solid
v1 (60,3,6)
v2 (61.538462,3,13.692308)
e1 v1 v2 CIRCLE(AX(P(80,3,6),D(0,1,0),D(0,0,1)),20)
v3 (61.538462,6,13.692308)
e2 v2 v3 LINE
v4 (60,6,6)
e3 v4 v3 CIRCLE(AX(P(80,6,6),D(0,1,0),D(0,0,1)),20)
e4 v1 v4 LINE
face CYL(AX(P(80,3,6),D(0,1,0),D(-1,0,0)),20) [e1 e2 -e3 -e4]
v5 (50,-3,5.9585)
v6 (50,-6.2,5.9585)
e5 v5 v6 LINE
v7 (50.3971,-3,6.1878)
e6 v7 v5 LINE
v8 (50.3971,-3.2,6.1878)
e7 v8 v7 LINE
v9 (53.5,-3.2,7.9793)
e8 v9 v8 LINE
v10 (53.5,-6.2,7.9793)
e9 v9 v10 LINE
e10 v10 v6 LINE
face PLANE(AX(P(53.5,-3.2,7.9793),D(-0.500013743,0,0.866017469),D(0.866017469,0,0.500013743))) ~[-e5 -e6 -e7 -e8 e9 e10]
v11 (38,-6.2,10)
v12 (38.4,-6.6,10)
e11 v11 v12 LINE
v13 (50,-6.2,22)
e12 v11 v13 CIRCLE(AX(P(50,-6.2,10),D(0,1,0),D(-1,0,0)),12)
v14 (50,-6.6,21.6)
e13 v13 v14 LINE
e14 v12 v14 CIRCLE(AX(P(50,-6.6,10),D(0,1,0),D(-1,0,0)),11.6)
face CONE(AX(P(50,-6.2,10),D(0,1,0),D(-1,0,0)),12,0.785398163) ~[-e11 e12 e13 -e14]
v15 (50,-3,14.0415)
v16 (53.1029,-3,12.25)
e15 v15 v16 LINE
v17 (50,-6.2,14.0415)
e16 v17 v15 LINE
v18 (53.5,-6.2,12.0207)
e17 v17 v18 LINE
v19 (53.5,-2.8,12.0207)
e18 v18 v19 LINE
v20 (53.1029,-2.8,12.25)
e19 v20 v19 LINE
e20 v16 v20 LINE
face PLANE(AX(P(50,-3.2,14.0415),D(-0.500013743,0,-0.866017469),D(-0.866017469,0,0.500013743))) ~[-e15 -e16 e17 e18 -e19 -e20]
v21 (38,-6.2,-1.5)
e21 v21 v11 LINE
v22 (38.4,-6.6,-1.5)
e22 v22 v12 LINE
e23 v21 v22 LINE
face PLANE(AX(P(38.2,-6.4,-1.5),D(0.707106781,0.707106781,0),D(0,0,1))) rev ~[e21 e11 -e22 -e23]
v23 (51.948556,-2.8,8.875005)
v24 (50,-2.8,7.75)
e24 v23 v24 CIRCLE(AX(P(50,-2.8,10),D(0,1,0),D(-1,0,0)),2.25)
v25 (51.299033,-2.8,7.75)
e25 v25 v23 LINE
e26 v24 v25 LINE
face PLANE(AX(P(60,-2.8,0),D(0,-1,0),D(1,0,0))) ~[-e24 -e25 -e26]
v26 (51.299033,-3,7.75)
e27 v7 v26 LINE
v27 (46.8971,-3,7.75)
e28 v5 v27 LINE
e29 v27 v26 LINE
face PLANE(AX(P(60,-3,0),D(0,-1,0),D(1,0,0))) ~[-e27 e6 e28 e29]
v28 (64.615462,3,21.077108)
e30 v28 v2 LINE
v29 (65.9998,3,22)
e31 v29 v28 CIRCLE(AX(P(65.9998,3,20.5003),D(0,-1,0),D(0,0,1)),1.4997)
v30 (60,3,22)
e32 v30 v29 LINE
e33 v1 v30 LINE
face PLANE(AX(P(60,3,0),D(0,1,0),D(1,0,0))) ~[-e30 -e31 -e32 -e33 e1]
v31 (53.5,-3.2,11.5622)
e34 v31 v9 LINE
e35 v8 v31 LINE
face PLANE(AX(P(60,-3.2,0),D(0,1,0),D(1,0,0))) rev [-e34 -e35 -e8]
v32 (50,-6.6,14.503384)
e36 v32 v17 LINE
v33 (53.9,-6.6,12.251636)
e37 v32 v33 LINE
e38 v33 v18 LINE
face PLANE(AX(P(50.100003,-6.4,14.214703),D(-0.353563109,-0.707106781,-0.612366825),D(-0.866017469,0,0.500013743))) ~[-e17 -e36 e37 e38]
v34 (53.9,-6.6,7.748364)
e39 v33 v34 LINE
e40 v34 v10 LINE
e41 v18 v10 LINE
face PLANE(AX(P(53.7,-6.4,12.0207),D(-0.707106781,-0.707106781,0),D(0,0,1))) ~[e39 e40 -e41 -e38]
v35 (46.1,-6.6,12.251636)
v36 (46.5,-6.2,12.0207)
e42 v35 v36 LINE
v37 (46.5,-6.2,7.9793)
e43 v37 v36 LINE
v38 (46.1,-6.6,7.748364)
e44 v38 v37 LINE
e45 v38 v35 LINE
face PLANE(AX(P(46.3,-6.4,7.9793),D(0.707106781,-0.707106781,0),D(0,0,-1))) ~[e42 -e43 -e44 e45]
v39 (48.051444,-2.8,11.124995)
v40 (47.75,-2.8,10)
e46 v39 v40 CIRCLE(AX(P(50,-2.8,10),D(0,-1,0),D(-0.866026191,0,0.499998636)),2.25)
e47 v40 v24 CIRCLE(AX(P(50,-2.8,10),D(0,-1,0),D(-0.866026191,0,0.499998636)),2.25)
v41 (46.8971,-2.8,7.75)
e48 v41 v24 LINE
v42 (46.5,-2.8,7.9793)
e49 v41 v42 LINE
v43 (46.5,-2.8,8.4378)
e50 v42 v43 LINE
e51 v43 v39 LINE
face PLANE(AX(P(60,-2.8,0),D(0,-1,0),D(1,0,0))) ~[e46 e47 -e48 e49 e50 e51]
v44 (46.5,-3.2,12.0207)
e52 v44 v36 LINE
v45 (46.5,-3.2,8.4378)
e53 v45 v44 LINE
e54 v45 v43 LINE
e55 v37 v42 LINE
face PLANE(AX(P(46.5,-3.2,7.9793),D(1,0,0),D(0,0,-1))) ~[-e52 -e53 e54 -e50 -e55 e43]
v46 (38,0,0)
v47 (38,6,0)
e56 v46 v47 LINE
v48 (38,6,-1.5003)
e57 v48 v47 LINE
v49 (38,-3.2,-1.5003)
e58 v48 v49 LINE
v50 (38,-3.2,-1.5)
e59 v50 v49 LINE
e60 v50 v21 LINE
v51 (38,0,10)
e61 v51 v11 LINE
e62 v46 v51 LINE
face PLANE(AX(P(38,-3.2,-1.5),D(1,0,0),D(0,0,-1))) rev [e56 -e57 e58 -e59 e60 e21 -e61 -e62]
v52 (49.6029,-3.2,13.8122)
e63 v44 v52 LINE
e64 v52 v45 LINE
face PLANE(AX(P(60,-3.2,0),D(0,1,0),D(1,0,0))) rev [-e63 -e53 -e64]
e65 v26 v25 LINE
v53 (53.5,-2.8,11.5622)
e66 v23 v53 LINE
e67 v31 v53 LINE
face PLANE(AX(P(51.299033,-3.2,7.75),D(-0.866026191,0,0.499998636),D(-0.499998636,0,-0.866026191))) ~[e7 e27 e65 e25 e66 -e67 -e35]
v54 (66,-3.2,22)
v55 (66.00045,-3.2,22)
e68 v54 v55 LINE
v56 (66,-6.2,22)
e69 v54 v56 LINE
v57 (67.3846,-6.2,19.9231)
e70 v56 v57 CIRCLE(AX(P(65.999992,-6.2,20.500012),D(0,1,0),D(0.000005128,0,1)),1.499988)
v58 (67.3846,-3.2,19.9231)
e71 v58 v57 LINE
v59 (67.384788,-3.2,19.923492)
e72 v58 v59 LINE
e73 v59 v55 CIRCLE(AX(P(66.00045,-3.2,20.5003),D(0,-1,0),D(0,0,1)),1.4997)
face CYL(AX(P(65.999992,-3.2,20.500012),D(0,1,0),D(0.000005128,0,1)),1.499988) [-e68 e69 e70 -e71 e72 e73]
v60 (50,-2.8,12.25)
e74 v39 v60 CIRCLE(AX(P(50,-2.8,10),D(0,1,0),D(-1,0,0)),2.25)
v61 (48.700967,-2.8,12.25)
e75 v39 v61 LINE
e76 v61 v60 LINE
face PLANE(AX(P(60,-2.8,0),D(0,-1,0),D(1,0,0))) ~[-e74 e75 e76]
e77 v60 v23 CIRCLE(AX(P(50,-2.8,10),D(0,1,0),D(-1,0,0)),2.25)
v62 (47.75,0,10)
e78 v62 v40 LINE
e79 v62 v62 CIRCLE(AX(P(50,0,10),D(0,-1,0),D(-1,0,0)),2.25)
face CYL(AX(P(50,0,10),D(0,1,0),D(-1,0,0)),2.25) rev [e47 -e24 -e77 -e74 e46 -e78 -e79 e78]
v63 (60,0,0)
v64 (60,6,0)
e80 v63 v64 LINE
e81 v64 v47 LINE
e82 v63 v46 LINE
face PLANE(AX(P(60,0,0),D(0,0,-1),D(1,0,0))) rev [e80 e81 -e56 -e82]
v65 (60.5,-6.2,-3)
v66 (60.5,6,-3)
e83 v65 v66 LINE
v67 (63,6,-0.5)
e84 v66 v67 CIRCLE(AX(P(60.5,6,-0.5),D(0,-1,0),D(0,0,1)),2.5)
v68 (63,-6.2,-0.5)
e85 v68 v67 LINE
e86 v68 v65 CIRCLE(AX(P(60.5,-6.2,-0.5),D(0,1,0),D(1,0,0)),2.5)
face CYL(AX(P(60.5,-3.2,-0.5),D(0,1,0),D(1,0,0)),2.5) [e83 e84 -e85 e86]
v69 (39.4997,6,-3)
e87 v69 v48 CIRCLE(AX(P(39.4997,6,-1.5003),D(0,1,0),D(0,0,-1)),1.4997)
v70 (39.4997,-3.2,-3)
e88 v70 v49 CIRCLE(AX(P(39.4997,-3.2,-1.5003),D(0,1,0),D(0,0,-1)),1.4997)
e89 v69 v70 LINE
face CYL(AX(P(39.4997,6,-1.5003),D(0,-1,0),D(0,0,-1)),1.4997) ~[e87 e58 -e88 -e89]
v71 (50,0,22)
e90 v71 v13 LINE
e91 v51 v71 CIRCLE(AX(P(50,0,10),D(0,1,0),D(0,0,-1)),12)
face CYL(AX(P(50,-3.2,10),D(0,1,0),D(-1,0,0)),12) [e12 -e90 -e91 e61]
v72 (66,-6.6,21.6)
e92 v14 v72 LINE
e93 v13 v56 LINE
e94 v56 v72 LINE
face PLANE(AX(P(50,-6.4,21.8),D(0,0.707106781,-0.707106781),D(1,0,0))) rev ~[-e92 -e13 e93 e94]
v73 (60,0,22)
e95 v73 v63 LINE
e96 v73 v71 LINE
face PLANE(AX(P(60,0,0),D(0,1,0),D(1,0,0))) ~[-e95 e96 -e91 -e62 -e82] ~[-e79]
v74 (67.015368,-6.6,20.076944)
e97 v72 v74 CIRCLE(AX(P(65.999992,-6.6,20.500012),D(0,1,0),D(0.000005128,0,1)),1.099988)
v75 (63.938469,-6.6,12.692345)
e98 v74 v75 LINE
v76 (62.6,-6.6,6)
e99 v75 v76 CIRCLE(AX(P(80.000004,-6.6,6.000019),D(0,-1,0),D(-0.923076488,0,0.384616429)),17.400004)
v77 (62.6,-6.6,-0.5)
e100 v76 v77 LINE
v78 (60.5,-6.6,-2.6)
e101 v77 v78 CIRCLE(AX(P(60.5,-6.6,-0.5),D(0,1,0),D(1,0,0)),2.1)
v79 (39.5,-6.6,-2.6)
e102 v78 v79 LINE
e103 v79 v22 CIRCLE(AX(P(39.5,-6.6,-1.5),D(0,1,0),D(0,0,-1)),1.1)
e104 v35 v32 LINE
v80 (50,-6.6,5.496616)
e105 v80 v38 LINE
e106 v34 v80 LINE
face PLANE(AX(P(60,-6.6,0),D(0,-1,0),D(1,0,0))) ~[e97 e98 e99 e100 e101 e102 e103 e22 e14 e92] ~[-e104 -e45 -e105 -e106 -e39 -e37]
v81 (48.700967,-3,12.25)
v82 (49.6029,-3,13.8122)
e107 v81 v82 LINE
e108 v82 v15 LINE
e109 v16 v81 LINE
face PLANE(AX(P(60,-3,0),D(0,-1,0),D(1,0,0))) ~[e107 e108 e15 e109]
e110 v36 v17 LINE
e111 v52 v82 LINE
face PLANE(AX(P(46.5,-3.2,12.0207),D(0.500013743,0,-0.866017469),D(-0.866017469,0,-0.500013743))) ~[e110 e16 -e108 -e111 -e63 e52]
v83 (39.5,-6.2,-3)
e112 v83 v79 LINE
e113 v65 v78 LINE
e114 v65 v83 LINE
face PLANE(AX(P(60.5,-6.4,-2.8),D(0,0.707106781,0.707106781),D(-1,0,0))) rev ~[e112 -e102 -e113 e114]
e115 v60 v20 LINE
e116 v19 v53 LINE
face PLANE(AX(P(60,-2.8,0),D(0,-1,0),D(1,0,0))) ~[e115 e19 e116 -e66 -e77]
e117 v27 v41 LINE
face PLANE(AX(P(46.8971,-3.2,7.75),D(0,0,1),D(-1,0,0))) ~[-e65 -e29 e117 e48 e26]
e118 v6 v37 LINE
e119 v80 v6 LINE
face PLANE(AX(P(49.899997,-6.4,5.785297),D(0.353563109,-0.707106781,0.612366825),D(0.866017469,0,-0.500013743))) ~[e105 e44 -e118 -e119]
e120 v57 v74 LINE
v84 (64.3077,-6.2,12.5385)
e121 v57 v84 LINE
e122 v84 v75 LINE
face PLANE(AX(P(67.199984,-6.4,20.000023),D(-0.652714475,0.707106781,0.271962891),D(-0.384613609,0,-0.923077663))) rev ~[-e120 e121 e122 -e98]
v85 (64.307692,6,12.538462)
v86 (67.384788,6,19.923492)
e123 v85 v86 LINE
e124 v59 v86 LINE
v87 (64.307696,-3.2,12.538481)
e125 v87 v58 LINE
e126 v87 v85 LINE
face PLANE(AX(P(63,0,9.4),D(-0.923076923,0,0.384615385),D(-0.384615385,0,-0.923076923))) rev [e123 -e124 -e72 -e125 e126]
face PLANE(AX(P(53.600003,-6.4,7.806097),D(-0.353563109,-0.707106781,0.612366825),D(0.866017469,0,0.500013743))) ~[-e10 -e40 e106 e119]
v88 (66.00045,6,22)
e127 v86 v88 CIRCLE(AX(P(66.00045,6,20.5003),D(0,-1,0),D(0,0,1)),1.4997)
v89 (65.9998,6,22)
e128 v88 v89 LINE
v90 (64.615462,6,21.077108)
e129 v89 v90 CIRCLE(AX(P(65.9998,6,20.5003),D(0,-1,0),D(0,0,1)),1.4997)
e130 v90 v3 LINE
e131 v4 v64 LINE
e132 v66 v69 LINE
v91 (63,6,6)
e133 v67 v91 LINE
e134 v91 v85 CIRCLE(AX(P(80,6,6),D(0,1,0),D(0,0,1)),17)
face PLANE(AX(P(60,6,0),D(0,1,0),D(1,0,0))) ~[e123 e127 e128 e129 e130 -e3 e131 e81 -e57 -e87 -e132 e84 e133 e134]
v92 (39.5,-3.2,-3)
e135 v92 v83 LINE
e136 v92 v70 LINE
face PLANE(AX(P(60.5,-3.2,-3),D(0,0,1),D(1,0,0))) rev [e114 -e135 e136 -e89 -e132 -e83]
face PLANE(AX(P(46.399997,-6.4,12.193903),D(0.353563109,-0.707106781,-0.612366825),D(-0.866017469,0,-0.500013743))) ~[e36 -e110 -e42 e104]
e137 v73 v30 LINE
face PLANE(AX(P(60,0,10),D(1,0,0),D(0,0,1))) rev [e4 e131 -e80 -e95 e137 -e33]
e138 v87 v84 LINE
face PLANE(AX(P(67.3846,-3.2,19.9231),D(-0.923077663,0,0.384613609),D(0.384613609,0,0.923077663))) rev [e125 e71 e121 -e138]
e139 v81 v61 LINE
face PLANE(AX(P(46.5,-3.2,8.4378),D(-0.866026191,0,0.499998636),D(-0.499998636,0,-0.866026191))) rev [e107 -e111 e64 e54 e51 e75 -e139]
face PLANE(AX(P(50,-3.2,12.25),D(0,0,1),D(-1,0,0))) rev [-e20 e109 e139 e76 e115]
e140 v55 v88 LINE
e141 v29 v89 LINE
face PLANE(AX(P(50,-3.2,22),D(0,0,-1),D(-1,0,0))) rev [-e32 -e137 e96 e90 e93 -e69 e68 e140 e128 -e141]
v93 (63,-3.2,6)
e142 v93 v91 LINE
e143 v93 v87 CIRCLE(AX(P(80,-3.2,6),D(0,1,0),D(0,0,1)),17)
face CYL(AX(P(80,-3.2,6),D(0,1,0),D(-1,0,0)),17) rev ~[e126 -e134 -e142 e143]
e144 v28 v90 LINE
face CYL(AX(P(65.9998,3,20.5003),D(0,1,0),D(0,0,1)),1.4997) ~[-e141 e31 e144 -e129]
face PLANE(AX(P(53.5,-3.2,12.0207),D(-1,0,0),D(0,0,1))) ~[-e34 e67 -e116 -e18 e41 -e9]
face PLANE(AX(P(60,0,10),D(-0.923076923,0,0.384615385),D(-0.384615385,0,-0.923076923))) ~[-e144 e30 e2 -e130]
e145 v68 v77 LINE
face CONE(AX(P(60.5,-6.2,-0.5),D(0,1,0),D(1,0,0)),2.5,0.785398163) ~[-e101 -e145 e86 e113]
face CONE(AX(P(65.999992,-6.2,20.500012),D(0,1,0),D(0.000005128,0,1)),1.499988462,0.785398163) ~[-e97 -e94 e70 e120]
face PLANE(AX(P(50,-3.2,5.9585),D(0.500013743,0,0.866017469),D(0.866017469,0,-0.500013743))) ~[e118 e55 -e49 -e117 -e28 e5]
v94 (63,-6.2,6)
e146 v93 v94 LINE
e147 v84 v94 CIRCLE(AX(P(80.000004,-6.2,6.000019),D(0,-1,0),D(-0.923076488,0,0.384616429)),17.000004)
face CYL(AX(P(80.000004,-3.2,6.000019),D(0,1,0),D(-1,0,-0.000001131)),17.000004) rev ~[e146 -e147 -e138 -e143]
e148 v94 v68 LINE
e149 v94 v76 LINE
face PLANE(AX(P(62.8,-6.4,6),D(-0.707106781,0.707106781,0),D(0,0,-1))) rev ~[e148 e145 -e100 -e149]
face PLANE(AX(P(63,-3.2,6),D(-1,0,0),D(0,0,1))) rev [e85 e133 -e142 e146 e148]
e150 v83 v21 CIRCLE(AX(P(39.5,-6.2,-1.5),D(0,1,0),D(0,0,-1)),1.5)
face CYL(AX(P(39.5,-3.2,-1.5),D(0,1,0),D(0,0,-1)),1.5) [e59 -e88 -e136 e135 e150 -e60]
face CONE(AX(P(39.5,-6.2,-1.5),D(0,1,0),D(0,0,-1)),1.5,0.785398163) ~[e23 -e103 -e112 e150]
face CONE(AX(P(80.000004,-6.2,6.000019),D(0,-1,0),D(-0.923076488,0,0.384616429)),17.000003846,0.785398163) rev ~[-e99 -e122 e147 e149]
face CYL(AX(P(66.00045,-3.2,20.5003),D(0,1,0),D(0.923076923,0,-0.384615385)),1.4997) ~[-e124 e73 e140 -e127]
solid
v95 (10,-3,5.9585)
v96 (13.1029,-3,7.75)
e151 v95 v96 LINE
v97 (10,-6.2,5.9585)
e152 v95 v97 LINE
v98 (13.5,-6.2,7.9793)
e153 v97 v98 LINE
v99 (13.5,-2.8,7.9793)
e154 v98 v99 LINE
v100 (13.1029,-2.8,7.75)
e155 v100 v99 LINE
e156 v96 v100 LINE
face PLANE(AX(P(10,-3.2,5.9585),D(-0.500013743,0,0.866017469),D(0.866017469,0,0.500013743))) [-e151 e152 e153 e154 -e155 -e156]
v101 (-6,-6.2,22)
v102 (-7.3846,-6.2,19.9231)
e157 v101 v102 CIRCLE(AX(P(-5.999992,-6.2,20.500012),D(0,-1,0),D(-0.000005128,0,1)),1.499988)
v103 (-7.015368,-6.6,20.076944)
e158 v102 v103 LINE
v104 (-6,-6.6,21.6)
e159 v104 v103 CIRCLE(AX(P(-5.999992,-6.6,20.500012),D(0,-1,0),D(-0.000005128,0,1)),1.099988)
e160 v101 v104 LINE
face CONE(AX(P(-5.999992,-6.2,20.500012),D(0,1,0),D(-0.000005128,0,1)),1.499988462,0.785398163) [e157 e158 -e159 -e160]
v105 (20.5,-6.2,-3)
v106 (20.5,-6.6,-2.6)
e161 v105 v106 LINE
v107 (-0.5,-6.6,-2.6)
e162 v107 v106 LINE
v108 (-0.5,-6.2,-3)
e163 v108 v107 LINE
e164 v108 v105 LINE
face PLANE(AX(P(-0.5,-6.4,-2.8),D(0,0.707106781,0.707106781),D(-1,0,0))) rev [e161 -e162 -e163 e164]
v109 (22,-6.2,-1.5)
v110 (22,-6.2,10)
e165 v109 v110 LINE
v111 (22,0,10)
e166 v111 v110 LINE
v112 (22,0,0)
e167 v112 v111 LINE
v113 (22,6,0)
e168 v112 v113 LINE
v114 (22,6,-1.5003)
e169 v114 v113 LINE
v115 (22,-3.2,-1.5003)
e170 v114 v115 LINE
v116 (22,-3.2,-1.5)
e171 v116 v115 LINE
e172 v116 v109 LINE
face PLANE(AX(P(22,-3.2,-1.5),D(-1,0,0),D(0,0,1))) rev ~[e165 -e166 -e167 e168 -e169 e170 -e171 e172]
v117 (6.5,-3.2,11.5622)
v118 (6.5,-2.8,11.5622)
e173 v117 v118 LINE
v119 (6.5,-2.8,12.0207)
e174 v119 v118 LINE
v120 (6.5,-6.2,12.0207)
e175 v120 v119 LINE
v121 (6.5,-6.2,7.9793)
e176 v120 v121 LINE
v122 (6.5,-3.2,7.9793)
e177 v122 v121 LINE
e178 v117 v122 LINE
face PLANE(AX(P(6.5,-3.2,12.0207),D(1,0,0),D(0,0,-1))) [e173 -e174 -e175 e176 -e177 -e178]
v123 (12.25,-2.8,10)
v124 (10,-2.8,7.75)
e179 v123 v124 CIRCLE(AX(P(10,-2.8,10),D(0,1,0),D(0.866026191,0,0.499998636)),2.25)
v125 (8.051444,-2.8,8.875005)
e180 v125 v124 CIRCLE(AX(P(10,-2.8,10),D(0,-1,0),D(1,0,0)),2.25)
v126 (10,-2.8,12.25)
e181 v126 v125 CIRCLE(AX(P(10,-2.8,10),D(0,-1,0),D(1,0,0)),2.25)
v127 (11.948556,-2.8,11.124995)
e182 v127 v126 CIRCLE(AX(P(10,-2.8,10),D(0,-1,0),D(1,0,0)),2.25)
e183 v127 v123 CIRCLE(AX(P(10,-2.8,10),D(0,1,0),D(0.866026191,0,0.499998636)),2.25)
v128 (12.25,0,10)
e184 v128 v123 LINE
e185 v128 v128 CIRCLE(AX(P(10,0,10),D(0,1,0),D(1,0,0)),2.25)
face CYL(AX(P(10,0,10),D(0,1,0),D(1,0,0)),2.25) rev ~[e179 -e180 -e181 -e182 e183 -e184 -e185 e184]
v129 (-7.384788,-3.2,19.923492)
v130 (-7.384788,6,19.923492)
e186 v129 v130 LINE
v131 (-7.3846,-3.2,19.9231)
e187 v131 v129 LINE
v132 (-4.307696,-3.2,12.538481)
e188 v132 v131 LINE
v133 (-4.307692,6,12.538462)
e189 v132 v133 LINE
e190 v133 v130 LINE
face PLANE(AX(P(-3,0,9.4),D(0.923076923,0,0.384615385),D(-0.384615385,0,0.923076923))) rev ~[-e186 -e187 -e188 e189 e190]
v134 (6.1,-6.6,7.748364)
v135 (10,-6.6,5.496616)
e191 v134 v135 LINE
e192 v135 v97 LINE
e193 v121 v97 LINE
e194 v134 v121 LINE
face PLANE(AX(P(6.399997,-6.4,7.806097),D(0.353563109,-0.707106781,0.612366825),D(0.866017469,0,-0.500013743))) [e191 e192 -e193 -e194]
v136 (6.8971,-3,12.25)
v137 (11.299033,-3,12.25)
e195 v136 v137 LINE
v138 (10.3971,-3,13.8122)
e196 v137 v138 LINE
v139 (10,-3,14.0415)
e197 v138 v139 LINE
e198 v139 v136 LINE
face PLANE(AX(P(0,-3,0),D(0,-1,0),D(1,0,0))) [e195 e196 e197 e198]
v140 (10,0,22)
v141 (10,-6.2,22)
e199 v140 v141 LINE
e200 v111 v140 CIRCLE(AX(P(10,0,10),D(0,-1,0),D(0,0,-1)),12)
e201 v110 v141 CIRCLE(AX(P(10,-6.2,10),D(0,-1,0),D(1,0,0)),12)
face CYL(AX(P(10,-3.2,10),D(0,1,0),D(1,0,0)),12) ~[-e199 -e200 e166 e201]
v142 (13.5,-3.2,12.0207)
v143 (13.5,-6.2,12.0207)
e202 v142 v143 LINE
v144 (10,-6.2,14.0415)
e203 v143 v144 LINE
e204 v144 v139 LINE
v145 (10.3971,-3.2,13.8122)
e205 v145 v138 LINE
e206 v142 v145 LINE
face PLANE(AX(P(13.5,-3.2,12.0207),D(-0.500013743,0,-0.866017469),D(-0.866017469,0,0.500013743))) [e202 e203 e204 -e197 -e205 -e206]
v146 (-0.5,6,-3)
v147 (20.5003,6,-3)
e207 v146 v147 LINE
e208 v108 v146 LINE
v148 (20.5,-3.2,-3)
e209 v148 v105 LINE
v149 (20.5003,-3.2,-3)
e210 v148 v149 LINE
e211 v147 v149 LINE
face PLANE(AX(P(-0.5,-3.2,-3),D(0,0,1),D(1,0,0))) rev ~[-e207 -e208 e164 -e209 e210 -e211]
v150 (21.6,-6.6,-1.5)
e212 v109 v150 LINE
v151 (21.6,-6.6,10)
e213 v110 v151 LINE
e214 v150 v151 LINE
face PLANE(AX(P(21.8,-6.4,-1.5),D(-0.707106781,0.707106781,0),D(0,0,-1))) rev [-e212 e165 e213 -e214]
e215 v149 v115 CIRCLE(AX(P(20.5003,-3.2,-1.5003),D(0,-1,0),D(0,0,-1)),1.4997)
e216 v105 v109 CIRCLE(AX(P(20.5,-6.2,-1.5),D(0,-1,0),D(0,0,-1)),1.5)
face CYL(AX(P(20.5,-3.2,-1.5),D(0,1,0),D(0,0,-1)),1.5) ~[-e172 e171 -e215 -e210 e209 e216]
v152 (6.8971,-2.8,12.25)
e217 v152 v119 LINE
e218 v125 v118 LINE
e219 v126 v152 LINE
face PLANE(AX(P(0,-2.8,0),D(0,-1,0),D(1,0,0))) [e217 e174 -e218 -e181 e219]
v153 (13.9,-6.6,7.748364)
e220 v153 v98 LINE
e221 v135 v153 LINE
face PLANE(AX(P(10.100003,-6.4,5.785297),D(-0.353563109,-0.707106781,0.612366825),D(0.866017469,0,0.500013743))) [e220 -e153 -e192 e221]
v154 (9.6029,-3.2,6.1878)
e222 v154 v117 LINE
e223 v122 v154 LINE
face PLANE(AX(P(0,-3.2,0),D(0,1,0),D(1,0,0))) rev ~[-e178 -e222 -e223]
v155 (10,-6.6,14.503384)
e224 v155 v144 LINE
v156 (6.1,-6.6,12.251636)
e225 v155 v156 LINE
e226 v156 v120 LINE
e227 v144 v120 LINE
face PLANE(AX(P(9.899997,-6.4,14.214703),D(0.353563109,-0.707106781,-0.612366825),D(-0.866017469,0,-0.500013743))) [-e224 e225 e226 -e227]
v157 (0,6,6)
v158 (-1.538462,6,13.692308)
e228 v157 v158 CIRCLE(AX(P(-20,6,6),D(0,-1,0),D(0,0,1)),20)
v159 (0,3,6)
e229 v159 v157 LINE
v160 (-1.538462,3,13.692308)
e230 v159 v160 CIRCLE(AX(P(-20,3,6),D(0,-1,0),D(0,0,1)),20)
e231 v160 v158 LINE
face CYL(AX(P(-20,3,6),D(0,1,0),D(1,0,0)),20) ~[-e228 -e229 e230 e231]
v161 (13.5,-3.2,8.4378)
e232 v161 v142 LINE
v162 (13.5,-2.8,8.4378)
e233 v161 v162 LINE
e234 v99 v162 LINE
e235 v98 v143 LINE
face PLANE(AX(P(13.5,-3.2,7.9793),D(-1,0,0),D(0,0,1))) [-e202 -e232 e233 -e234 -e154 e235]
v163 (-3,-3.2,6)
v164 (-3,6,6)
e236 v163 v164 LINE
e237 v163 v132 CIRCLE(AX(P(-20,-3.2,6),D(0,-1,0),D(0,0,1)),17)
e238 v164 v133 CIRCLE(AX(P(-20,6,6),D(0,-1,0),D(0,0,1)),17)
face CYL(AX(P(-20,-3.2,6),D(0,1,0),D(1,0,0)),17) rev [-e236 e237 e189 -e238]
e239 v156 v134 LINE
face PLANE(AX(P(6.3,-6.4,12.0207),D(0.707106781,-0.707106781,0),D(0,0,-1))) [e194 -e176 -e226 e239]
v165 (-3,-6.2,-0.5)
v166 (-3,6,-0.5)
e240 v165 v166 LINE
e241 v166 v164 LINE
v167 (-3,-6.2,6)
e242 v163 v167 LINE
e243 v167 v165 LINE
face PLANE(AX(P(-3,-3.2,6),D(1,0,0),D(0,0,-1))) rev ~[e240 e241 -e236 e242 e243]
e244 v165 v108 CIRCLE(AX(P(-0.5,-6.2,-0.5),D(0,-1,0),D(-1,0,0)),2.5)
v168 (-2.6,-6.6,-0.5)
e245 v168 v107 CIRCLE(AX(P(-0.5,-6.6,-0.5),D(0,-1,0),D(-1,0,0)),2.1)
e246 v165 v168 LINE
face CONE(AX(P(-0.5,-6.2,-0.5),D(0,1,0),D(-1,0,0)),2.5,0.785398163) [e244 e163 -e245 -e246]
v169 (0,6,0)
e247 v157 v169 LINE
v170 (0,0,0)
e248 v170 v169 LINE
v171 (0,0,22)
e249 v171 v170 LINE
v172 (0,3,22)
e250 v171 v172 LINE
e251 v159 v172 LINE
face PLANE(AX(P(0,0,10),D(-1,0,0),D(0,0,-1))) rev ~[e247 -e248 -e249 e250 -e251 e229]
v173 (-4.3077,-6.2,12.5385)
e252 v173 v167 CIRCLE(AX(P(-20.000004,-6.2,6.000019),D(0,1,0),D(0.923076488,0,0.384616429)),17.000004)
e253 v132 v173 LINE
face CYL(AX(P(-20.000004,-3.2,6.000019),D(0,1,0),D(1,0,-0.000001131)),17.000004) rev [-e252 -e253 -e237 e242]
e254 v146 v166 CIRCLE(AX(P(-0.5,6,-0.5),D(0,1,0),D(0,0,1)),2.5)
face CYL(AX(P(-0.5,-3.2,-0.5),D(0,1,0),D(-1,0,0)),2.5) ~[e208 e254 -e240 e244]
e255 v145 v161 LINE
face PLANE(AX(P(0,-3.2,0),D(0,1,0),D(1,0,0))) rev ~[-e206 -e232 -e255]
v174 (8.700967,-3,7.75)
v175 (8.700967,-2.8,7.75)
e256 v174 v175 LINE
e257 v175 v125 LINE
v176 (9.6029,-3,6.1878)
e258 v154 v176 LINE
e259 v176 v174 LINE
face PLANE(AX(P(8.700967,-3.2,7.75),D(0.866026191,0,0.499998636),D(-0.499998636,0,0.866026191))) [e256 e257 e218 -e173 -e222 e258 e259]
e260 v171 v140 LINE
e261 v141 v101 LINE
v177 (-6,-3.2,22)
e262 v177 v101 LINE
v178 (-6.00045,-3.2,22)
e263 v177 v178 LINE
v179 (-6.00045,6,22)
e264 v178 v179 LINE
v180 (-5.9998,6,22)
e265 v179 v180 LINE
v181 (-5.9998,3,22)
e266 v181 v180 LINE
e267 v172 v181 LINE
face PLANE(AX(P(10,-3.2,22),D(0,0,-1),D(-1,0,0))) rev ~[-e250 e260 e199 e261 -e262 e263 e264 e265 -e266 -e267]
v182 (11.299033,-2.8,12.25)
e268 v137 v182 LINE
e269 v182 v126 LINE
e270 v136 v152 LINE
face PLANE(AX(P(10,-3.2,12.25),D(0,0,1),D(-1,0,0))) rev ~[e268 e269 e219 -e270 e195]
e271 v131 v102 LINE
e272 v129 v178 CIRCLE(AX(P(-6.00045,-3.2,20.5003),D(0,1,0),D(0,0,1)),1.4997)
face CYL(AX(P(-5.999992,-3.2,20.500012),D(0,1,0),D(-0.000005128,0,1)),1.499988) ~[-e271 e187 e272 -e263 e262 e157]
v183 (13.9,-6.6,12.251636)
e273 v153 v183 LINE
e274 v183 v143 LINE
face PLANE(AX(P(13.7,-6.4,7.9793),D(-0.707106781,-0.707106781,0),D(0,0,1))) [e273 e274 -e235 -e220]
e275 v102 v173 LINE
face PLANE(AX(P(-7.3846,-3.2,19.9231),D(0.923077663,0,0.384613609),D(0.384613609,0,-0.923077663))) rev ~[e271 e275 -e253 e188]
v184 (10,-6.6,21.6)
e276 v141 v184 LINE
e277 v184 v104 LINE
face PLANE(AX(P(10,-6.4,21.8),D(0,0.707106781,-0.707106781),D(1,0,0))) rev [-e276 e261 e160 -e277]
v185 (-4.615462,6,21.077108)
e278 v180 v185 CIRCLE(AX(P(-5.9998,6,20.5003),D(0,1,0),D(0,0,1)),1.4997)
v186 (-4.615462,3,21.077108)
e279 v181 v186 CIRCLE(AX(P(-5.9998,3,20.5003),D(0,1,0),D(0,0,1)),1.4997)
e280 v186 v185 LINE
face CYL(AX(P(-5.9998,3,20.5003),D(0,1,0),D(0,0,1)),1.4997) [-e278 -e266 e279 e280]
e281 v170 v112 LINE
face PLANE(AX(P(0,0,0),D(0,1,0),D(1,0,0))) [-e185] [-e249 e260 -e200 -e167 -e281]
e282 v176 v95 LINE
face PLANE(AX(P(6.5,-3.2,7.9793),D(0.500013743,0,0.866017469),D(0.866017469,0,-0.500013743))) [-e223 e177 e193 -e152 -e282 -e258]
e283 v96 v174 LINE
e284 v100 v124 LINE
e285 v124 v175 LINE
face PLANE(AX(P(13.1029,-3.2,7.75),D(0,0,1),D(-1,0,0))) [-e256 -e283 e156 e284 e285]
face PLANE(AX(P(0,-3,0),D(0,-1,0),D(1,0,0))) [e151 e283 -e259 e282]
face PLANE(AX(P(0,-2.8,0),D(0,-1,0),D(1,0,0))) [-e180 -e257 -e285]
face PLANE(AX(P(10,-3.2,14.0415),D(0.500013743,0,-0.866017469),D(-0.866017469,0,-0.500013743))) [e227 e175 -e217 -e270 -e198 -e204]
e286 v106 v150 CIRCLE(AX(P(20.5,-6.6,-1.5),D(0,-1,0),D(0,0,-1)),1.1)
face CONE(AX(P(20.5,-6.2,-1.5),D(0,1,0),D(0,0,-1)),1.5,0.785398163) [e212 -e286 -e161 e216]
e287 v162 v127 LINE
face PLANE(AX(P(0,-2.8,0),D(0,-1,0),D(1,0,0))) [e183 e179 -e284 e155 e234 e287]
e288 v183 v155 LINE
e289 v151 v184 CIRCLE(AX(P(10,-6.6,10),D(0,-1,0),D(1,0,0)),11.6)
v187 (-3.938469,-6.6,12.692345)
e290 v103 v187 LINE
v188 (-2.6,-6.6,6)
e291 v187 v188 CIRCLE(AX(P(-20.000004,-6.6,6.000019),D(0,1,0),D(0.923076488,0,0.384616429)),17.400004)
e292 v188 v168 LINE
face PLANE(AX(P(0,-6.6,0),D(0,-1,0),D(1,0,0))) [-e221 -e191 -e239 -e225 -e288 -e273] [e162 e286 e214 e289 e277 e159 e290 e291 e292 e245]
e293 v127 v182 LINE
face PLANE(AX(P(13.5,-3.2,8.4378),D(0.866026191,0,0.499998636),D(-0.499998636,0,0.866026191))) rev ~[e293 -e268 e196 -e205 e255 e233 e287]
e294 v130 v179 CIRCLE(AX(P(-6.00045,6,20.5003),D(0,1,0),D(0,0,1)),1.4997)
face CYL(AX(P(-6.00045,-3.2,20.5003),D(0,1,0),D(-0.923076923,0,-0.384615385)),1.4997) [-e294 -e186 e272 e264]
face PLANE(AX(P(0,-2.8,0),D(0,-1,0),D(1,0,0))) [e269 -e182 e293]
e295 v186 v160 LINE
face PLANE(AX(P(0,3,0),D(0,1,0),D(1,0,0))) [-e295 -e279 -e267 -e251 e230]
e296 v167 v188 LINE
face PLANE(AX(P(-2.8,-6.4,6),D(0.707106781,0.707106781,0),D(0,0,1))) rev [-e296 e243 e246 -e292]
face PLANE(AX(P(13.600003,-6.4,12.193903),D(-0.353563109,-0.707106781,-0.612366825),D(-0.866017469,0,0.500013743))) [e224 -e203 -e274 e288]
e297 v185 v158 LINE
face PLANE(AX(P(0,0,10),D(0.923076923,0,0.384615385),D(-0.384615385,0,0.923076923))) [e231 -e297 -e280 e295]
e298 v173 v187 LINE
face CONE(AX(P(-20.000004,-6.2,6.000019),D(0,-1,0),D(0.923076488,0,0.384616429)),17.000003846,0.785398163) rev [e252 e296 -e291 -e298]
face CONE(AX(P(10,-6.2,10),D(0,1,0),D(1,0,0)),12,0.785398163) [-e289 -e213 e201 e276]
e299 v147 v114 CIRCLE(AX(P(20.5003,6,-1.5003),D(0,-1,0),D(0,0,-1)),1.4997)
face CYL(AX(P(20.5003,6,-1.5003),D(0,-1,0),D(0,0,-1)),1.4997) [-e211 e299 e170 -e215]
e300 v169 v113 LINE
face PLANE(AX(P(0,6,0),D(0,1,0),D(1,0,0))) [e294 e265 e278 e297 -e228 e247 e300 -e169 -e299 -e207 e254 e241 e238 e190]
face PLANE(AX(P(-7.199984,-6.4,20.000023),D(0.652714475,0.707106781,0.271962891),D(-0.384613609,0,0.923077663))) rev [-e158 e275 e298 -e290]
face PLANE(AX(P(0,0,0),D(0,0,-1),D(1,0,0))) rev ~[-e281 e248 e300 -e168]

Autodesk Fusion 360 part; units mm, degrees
sketch "Sketch1" plane through (0, 0, 0) normal (0, 1, 0) x (1, 0, 0)
  circle A0 centre (10, -10) radius 2.25
  line L0 (-3, 3) -> (22, 3)
  line L1 (-3, 3) -> (-3, -22)
  line L2 (0, 0) -> (22, 0)
  line L3 (22, 0) -> (22, -22)
  line L4 (22, -22) -> (0, -22)
  line L5 (0, -22) -> (0, 0)
  line L6 (22, 3) -> (22, 0)
  line L7 (-3, -22) -> (0, -22)
  line L8 (0, -10) -> (-5, -22)
  line L9 (-3, -9.4) -> (-8.25, -22)
  line L10 (-8.25, -22) -> (-5, -22)
  line L11 (-5, -22) -> (-3, -22)
  dimension "d1" = 4.5
  dimension "d2" = 10
  dimension "d3" = 10
  dimension "d4" = 3
  dimension "d5" = 3
  dimension "d6" = 22
  dimension "d7" = 22
  dimension "d8" = 25
  dimension "d9" = 25
  dimension "d34" = 5
  dimension "d35" = 3
  dimension "d36" = 10
extrude "Extrude1" add sketch "Sketch1" along normal blind 6 contours L0 L1 L2 L5 L6 L8 | L1 L8 L9 L10 makes body 1
extrude "Extrude2" add sketch "Sketch1" against normal blind 3.2 bodies 1
extrude "Extrude7" add sketch "Sketch1" along normal blind 3 contours L1 L5 L7 L8 | L1 L8 L11 bodies 1
fillet "Fillet1" radius 12 1 edges at (22, -1.6, 22) on bodies 1
fillet "Fillet3" radius 2.5 1 edges at (-3, 1.4, -3) on bodies 1
fillet "Fillet4" radius 20 1 edges at (0, 4.5, 10) on bodies 1
fillet "Fillet4" radius 17 1 edges at (-3, 1.4, 9.4) on bodies 1
fillet "Fillet5" radius 1.5 3 edges at (-8.25, 1.4, 22) (-5, 4.5, 22) (22, 1.4, -3) on bodies 1
sketch "Sketch2" plane through (0, -3.2, 0) normal (0, -1, 0) x (1, 0, 0)
  circle A0 centre (10, 10) radius 2.25
  arc A1 (22, 10) -> (10, 22) centre (10, 10) ccw
  line L0 (10, 22) -> (-6, 22)
  line L1 (-3, 6) -> (-3, -0.5)
  line L2 (-0.5, -3) -> (20.5, -3)
  line L3 (22, -1.5) -> (22, 10)
  circle A2 centre (10, 10) radius 2.25
  line L4 (10, 5.9585) -> (13.5, 7.9793)
  line L5 (13.5, 7.9793) -> (13.5, 12.0207)
  line L6 (13.5, 12.0207) -> (10, 14.0415)
  line L7 (10, 14.0415) -> (6.5, 12.0207)
  line L8 (6.5, 12.0207) -> (6.5, 7.9793)
  line L9 (6.5, 7.9793) -> (10, 5.9585)
  line L10 (-7.3846, 19.9231) -> (-4.3077, 12.5385)
  arc A3 (20.5, -3) -> (22, -1.5) centre (20.5, -1.5) ccw
  arc A4 (-6, 22) -> (-7.3846, 19.9231) centre (-6, 20.5) ccw
  arc A5 (-3, 6) -> (-4.3077, 12.5385) centre (-20, 6) ccw
  arc A6 (-3, -0.5) -> (-0.5, -3) centre (-0.5, -0.5) ccw
  point P0 (10, 10)
  dimension "d17" = 3.5
extrude "Extrude3" add sketch "Sketch2" along normal blind 3.4 contours A1 L0 L1 L2 L3 L10 A3 A4 A5 A6 bodies 1
sketch "Sketch3" plane through (0, -3.2, 0) normal (0, -1, 0) x (1, 0, 0)
  line L0 (10, 5.9585) -> (13.5, 7.9793)
  line L1 (13.5, 7.9793) -> (13.5, 12.0207)
  line L2 (13.5, 12.0207) -> (10, 14.0415)
  line L3 (10, 14.0415) -> (6.5, 12.0207)
  line L4 (6.5, 12.0207) -> (6.5, 7.9793)
  line L5 (6.5, 7.9793) -> (10, 5.9585)
  circle A0 centre (10, 10) radius 2.25
  line L6 (9.6029, 6.1878) -> (6.5, 11.5622)
  line L7 (13.5, 8.4378) -> (10.3971, 13.8122)
  line L8 (13.1029, 7.75) -> (6.8971, 7.75)
  line L9 (13.1029, 12.25) -> (6.8971, 12.25)
  circle A1 centre (10, 10) radius 2.25
extrude "Extrude4" cut sketch "Sketch3" against normal blind 0.4 contours L0 L1 A0 L7 L8 A1 | A0 L6 L8 A1 | L3 L4 A0 L6 L9 A1 | A0 L7 L9 A1 bodies 1
extrude "Extrude5" cut sketch "Sketch3" against normal blind 0.2 contours L0 L5 L6 L8 | L2 L3 L7 L9 bodies 1
chamfer "Chamfer2" distance 0.4 angle 45 1 faces at (10, -6.6, -0.0138) on bodies 1
ref_plane "WorkPlane1" through (30, 0, 0) normal (1, 0, 0) x (0, 1, 0)
mirror "Mirror1" about plane through (30, 0, 0) normal (1, 0, 0) of bodies 1 makes body 2
equation "d17 = ( 7 / 2 ) * 1 mm"
equation "d46 = 20 mm - 3 mm"
